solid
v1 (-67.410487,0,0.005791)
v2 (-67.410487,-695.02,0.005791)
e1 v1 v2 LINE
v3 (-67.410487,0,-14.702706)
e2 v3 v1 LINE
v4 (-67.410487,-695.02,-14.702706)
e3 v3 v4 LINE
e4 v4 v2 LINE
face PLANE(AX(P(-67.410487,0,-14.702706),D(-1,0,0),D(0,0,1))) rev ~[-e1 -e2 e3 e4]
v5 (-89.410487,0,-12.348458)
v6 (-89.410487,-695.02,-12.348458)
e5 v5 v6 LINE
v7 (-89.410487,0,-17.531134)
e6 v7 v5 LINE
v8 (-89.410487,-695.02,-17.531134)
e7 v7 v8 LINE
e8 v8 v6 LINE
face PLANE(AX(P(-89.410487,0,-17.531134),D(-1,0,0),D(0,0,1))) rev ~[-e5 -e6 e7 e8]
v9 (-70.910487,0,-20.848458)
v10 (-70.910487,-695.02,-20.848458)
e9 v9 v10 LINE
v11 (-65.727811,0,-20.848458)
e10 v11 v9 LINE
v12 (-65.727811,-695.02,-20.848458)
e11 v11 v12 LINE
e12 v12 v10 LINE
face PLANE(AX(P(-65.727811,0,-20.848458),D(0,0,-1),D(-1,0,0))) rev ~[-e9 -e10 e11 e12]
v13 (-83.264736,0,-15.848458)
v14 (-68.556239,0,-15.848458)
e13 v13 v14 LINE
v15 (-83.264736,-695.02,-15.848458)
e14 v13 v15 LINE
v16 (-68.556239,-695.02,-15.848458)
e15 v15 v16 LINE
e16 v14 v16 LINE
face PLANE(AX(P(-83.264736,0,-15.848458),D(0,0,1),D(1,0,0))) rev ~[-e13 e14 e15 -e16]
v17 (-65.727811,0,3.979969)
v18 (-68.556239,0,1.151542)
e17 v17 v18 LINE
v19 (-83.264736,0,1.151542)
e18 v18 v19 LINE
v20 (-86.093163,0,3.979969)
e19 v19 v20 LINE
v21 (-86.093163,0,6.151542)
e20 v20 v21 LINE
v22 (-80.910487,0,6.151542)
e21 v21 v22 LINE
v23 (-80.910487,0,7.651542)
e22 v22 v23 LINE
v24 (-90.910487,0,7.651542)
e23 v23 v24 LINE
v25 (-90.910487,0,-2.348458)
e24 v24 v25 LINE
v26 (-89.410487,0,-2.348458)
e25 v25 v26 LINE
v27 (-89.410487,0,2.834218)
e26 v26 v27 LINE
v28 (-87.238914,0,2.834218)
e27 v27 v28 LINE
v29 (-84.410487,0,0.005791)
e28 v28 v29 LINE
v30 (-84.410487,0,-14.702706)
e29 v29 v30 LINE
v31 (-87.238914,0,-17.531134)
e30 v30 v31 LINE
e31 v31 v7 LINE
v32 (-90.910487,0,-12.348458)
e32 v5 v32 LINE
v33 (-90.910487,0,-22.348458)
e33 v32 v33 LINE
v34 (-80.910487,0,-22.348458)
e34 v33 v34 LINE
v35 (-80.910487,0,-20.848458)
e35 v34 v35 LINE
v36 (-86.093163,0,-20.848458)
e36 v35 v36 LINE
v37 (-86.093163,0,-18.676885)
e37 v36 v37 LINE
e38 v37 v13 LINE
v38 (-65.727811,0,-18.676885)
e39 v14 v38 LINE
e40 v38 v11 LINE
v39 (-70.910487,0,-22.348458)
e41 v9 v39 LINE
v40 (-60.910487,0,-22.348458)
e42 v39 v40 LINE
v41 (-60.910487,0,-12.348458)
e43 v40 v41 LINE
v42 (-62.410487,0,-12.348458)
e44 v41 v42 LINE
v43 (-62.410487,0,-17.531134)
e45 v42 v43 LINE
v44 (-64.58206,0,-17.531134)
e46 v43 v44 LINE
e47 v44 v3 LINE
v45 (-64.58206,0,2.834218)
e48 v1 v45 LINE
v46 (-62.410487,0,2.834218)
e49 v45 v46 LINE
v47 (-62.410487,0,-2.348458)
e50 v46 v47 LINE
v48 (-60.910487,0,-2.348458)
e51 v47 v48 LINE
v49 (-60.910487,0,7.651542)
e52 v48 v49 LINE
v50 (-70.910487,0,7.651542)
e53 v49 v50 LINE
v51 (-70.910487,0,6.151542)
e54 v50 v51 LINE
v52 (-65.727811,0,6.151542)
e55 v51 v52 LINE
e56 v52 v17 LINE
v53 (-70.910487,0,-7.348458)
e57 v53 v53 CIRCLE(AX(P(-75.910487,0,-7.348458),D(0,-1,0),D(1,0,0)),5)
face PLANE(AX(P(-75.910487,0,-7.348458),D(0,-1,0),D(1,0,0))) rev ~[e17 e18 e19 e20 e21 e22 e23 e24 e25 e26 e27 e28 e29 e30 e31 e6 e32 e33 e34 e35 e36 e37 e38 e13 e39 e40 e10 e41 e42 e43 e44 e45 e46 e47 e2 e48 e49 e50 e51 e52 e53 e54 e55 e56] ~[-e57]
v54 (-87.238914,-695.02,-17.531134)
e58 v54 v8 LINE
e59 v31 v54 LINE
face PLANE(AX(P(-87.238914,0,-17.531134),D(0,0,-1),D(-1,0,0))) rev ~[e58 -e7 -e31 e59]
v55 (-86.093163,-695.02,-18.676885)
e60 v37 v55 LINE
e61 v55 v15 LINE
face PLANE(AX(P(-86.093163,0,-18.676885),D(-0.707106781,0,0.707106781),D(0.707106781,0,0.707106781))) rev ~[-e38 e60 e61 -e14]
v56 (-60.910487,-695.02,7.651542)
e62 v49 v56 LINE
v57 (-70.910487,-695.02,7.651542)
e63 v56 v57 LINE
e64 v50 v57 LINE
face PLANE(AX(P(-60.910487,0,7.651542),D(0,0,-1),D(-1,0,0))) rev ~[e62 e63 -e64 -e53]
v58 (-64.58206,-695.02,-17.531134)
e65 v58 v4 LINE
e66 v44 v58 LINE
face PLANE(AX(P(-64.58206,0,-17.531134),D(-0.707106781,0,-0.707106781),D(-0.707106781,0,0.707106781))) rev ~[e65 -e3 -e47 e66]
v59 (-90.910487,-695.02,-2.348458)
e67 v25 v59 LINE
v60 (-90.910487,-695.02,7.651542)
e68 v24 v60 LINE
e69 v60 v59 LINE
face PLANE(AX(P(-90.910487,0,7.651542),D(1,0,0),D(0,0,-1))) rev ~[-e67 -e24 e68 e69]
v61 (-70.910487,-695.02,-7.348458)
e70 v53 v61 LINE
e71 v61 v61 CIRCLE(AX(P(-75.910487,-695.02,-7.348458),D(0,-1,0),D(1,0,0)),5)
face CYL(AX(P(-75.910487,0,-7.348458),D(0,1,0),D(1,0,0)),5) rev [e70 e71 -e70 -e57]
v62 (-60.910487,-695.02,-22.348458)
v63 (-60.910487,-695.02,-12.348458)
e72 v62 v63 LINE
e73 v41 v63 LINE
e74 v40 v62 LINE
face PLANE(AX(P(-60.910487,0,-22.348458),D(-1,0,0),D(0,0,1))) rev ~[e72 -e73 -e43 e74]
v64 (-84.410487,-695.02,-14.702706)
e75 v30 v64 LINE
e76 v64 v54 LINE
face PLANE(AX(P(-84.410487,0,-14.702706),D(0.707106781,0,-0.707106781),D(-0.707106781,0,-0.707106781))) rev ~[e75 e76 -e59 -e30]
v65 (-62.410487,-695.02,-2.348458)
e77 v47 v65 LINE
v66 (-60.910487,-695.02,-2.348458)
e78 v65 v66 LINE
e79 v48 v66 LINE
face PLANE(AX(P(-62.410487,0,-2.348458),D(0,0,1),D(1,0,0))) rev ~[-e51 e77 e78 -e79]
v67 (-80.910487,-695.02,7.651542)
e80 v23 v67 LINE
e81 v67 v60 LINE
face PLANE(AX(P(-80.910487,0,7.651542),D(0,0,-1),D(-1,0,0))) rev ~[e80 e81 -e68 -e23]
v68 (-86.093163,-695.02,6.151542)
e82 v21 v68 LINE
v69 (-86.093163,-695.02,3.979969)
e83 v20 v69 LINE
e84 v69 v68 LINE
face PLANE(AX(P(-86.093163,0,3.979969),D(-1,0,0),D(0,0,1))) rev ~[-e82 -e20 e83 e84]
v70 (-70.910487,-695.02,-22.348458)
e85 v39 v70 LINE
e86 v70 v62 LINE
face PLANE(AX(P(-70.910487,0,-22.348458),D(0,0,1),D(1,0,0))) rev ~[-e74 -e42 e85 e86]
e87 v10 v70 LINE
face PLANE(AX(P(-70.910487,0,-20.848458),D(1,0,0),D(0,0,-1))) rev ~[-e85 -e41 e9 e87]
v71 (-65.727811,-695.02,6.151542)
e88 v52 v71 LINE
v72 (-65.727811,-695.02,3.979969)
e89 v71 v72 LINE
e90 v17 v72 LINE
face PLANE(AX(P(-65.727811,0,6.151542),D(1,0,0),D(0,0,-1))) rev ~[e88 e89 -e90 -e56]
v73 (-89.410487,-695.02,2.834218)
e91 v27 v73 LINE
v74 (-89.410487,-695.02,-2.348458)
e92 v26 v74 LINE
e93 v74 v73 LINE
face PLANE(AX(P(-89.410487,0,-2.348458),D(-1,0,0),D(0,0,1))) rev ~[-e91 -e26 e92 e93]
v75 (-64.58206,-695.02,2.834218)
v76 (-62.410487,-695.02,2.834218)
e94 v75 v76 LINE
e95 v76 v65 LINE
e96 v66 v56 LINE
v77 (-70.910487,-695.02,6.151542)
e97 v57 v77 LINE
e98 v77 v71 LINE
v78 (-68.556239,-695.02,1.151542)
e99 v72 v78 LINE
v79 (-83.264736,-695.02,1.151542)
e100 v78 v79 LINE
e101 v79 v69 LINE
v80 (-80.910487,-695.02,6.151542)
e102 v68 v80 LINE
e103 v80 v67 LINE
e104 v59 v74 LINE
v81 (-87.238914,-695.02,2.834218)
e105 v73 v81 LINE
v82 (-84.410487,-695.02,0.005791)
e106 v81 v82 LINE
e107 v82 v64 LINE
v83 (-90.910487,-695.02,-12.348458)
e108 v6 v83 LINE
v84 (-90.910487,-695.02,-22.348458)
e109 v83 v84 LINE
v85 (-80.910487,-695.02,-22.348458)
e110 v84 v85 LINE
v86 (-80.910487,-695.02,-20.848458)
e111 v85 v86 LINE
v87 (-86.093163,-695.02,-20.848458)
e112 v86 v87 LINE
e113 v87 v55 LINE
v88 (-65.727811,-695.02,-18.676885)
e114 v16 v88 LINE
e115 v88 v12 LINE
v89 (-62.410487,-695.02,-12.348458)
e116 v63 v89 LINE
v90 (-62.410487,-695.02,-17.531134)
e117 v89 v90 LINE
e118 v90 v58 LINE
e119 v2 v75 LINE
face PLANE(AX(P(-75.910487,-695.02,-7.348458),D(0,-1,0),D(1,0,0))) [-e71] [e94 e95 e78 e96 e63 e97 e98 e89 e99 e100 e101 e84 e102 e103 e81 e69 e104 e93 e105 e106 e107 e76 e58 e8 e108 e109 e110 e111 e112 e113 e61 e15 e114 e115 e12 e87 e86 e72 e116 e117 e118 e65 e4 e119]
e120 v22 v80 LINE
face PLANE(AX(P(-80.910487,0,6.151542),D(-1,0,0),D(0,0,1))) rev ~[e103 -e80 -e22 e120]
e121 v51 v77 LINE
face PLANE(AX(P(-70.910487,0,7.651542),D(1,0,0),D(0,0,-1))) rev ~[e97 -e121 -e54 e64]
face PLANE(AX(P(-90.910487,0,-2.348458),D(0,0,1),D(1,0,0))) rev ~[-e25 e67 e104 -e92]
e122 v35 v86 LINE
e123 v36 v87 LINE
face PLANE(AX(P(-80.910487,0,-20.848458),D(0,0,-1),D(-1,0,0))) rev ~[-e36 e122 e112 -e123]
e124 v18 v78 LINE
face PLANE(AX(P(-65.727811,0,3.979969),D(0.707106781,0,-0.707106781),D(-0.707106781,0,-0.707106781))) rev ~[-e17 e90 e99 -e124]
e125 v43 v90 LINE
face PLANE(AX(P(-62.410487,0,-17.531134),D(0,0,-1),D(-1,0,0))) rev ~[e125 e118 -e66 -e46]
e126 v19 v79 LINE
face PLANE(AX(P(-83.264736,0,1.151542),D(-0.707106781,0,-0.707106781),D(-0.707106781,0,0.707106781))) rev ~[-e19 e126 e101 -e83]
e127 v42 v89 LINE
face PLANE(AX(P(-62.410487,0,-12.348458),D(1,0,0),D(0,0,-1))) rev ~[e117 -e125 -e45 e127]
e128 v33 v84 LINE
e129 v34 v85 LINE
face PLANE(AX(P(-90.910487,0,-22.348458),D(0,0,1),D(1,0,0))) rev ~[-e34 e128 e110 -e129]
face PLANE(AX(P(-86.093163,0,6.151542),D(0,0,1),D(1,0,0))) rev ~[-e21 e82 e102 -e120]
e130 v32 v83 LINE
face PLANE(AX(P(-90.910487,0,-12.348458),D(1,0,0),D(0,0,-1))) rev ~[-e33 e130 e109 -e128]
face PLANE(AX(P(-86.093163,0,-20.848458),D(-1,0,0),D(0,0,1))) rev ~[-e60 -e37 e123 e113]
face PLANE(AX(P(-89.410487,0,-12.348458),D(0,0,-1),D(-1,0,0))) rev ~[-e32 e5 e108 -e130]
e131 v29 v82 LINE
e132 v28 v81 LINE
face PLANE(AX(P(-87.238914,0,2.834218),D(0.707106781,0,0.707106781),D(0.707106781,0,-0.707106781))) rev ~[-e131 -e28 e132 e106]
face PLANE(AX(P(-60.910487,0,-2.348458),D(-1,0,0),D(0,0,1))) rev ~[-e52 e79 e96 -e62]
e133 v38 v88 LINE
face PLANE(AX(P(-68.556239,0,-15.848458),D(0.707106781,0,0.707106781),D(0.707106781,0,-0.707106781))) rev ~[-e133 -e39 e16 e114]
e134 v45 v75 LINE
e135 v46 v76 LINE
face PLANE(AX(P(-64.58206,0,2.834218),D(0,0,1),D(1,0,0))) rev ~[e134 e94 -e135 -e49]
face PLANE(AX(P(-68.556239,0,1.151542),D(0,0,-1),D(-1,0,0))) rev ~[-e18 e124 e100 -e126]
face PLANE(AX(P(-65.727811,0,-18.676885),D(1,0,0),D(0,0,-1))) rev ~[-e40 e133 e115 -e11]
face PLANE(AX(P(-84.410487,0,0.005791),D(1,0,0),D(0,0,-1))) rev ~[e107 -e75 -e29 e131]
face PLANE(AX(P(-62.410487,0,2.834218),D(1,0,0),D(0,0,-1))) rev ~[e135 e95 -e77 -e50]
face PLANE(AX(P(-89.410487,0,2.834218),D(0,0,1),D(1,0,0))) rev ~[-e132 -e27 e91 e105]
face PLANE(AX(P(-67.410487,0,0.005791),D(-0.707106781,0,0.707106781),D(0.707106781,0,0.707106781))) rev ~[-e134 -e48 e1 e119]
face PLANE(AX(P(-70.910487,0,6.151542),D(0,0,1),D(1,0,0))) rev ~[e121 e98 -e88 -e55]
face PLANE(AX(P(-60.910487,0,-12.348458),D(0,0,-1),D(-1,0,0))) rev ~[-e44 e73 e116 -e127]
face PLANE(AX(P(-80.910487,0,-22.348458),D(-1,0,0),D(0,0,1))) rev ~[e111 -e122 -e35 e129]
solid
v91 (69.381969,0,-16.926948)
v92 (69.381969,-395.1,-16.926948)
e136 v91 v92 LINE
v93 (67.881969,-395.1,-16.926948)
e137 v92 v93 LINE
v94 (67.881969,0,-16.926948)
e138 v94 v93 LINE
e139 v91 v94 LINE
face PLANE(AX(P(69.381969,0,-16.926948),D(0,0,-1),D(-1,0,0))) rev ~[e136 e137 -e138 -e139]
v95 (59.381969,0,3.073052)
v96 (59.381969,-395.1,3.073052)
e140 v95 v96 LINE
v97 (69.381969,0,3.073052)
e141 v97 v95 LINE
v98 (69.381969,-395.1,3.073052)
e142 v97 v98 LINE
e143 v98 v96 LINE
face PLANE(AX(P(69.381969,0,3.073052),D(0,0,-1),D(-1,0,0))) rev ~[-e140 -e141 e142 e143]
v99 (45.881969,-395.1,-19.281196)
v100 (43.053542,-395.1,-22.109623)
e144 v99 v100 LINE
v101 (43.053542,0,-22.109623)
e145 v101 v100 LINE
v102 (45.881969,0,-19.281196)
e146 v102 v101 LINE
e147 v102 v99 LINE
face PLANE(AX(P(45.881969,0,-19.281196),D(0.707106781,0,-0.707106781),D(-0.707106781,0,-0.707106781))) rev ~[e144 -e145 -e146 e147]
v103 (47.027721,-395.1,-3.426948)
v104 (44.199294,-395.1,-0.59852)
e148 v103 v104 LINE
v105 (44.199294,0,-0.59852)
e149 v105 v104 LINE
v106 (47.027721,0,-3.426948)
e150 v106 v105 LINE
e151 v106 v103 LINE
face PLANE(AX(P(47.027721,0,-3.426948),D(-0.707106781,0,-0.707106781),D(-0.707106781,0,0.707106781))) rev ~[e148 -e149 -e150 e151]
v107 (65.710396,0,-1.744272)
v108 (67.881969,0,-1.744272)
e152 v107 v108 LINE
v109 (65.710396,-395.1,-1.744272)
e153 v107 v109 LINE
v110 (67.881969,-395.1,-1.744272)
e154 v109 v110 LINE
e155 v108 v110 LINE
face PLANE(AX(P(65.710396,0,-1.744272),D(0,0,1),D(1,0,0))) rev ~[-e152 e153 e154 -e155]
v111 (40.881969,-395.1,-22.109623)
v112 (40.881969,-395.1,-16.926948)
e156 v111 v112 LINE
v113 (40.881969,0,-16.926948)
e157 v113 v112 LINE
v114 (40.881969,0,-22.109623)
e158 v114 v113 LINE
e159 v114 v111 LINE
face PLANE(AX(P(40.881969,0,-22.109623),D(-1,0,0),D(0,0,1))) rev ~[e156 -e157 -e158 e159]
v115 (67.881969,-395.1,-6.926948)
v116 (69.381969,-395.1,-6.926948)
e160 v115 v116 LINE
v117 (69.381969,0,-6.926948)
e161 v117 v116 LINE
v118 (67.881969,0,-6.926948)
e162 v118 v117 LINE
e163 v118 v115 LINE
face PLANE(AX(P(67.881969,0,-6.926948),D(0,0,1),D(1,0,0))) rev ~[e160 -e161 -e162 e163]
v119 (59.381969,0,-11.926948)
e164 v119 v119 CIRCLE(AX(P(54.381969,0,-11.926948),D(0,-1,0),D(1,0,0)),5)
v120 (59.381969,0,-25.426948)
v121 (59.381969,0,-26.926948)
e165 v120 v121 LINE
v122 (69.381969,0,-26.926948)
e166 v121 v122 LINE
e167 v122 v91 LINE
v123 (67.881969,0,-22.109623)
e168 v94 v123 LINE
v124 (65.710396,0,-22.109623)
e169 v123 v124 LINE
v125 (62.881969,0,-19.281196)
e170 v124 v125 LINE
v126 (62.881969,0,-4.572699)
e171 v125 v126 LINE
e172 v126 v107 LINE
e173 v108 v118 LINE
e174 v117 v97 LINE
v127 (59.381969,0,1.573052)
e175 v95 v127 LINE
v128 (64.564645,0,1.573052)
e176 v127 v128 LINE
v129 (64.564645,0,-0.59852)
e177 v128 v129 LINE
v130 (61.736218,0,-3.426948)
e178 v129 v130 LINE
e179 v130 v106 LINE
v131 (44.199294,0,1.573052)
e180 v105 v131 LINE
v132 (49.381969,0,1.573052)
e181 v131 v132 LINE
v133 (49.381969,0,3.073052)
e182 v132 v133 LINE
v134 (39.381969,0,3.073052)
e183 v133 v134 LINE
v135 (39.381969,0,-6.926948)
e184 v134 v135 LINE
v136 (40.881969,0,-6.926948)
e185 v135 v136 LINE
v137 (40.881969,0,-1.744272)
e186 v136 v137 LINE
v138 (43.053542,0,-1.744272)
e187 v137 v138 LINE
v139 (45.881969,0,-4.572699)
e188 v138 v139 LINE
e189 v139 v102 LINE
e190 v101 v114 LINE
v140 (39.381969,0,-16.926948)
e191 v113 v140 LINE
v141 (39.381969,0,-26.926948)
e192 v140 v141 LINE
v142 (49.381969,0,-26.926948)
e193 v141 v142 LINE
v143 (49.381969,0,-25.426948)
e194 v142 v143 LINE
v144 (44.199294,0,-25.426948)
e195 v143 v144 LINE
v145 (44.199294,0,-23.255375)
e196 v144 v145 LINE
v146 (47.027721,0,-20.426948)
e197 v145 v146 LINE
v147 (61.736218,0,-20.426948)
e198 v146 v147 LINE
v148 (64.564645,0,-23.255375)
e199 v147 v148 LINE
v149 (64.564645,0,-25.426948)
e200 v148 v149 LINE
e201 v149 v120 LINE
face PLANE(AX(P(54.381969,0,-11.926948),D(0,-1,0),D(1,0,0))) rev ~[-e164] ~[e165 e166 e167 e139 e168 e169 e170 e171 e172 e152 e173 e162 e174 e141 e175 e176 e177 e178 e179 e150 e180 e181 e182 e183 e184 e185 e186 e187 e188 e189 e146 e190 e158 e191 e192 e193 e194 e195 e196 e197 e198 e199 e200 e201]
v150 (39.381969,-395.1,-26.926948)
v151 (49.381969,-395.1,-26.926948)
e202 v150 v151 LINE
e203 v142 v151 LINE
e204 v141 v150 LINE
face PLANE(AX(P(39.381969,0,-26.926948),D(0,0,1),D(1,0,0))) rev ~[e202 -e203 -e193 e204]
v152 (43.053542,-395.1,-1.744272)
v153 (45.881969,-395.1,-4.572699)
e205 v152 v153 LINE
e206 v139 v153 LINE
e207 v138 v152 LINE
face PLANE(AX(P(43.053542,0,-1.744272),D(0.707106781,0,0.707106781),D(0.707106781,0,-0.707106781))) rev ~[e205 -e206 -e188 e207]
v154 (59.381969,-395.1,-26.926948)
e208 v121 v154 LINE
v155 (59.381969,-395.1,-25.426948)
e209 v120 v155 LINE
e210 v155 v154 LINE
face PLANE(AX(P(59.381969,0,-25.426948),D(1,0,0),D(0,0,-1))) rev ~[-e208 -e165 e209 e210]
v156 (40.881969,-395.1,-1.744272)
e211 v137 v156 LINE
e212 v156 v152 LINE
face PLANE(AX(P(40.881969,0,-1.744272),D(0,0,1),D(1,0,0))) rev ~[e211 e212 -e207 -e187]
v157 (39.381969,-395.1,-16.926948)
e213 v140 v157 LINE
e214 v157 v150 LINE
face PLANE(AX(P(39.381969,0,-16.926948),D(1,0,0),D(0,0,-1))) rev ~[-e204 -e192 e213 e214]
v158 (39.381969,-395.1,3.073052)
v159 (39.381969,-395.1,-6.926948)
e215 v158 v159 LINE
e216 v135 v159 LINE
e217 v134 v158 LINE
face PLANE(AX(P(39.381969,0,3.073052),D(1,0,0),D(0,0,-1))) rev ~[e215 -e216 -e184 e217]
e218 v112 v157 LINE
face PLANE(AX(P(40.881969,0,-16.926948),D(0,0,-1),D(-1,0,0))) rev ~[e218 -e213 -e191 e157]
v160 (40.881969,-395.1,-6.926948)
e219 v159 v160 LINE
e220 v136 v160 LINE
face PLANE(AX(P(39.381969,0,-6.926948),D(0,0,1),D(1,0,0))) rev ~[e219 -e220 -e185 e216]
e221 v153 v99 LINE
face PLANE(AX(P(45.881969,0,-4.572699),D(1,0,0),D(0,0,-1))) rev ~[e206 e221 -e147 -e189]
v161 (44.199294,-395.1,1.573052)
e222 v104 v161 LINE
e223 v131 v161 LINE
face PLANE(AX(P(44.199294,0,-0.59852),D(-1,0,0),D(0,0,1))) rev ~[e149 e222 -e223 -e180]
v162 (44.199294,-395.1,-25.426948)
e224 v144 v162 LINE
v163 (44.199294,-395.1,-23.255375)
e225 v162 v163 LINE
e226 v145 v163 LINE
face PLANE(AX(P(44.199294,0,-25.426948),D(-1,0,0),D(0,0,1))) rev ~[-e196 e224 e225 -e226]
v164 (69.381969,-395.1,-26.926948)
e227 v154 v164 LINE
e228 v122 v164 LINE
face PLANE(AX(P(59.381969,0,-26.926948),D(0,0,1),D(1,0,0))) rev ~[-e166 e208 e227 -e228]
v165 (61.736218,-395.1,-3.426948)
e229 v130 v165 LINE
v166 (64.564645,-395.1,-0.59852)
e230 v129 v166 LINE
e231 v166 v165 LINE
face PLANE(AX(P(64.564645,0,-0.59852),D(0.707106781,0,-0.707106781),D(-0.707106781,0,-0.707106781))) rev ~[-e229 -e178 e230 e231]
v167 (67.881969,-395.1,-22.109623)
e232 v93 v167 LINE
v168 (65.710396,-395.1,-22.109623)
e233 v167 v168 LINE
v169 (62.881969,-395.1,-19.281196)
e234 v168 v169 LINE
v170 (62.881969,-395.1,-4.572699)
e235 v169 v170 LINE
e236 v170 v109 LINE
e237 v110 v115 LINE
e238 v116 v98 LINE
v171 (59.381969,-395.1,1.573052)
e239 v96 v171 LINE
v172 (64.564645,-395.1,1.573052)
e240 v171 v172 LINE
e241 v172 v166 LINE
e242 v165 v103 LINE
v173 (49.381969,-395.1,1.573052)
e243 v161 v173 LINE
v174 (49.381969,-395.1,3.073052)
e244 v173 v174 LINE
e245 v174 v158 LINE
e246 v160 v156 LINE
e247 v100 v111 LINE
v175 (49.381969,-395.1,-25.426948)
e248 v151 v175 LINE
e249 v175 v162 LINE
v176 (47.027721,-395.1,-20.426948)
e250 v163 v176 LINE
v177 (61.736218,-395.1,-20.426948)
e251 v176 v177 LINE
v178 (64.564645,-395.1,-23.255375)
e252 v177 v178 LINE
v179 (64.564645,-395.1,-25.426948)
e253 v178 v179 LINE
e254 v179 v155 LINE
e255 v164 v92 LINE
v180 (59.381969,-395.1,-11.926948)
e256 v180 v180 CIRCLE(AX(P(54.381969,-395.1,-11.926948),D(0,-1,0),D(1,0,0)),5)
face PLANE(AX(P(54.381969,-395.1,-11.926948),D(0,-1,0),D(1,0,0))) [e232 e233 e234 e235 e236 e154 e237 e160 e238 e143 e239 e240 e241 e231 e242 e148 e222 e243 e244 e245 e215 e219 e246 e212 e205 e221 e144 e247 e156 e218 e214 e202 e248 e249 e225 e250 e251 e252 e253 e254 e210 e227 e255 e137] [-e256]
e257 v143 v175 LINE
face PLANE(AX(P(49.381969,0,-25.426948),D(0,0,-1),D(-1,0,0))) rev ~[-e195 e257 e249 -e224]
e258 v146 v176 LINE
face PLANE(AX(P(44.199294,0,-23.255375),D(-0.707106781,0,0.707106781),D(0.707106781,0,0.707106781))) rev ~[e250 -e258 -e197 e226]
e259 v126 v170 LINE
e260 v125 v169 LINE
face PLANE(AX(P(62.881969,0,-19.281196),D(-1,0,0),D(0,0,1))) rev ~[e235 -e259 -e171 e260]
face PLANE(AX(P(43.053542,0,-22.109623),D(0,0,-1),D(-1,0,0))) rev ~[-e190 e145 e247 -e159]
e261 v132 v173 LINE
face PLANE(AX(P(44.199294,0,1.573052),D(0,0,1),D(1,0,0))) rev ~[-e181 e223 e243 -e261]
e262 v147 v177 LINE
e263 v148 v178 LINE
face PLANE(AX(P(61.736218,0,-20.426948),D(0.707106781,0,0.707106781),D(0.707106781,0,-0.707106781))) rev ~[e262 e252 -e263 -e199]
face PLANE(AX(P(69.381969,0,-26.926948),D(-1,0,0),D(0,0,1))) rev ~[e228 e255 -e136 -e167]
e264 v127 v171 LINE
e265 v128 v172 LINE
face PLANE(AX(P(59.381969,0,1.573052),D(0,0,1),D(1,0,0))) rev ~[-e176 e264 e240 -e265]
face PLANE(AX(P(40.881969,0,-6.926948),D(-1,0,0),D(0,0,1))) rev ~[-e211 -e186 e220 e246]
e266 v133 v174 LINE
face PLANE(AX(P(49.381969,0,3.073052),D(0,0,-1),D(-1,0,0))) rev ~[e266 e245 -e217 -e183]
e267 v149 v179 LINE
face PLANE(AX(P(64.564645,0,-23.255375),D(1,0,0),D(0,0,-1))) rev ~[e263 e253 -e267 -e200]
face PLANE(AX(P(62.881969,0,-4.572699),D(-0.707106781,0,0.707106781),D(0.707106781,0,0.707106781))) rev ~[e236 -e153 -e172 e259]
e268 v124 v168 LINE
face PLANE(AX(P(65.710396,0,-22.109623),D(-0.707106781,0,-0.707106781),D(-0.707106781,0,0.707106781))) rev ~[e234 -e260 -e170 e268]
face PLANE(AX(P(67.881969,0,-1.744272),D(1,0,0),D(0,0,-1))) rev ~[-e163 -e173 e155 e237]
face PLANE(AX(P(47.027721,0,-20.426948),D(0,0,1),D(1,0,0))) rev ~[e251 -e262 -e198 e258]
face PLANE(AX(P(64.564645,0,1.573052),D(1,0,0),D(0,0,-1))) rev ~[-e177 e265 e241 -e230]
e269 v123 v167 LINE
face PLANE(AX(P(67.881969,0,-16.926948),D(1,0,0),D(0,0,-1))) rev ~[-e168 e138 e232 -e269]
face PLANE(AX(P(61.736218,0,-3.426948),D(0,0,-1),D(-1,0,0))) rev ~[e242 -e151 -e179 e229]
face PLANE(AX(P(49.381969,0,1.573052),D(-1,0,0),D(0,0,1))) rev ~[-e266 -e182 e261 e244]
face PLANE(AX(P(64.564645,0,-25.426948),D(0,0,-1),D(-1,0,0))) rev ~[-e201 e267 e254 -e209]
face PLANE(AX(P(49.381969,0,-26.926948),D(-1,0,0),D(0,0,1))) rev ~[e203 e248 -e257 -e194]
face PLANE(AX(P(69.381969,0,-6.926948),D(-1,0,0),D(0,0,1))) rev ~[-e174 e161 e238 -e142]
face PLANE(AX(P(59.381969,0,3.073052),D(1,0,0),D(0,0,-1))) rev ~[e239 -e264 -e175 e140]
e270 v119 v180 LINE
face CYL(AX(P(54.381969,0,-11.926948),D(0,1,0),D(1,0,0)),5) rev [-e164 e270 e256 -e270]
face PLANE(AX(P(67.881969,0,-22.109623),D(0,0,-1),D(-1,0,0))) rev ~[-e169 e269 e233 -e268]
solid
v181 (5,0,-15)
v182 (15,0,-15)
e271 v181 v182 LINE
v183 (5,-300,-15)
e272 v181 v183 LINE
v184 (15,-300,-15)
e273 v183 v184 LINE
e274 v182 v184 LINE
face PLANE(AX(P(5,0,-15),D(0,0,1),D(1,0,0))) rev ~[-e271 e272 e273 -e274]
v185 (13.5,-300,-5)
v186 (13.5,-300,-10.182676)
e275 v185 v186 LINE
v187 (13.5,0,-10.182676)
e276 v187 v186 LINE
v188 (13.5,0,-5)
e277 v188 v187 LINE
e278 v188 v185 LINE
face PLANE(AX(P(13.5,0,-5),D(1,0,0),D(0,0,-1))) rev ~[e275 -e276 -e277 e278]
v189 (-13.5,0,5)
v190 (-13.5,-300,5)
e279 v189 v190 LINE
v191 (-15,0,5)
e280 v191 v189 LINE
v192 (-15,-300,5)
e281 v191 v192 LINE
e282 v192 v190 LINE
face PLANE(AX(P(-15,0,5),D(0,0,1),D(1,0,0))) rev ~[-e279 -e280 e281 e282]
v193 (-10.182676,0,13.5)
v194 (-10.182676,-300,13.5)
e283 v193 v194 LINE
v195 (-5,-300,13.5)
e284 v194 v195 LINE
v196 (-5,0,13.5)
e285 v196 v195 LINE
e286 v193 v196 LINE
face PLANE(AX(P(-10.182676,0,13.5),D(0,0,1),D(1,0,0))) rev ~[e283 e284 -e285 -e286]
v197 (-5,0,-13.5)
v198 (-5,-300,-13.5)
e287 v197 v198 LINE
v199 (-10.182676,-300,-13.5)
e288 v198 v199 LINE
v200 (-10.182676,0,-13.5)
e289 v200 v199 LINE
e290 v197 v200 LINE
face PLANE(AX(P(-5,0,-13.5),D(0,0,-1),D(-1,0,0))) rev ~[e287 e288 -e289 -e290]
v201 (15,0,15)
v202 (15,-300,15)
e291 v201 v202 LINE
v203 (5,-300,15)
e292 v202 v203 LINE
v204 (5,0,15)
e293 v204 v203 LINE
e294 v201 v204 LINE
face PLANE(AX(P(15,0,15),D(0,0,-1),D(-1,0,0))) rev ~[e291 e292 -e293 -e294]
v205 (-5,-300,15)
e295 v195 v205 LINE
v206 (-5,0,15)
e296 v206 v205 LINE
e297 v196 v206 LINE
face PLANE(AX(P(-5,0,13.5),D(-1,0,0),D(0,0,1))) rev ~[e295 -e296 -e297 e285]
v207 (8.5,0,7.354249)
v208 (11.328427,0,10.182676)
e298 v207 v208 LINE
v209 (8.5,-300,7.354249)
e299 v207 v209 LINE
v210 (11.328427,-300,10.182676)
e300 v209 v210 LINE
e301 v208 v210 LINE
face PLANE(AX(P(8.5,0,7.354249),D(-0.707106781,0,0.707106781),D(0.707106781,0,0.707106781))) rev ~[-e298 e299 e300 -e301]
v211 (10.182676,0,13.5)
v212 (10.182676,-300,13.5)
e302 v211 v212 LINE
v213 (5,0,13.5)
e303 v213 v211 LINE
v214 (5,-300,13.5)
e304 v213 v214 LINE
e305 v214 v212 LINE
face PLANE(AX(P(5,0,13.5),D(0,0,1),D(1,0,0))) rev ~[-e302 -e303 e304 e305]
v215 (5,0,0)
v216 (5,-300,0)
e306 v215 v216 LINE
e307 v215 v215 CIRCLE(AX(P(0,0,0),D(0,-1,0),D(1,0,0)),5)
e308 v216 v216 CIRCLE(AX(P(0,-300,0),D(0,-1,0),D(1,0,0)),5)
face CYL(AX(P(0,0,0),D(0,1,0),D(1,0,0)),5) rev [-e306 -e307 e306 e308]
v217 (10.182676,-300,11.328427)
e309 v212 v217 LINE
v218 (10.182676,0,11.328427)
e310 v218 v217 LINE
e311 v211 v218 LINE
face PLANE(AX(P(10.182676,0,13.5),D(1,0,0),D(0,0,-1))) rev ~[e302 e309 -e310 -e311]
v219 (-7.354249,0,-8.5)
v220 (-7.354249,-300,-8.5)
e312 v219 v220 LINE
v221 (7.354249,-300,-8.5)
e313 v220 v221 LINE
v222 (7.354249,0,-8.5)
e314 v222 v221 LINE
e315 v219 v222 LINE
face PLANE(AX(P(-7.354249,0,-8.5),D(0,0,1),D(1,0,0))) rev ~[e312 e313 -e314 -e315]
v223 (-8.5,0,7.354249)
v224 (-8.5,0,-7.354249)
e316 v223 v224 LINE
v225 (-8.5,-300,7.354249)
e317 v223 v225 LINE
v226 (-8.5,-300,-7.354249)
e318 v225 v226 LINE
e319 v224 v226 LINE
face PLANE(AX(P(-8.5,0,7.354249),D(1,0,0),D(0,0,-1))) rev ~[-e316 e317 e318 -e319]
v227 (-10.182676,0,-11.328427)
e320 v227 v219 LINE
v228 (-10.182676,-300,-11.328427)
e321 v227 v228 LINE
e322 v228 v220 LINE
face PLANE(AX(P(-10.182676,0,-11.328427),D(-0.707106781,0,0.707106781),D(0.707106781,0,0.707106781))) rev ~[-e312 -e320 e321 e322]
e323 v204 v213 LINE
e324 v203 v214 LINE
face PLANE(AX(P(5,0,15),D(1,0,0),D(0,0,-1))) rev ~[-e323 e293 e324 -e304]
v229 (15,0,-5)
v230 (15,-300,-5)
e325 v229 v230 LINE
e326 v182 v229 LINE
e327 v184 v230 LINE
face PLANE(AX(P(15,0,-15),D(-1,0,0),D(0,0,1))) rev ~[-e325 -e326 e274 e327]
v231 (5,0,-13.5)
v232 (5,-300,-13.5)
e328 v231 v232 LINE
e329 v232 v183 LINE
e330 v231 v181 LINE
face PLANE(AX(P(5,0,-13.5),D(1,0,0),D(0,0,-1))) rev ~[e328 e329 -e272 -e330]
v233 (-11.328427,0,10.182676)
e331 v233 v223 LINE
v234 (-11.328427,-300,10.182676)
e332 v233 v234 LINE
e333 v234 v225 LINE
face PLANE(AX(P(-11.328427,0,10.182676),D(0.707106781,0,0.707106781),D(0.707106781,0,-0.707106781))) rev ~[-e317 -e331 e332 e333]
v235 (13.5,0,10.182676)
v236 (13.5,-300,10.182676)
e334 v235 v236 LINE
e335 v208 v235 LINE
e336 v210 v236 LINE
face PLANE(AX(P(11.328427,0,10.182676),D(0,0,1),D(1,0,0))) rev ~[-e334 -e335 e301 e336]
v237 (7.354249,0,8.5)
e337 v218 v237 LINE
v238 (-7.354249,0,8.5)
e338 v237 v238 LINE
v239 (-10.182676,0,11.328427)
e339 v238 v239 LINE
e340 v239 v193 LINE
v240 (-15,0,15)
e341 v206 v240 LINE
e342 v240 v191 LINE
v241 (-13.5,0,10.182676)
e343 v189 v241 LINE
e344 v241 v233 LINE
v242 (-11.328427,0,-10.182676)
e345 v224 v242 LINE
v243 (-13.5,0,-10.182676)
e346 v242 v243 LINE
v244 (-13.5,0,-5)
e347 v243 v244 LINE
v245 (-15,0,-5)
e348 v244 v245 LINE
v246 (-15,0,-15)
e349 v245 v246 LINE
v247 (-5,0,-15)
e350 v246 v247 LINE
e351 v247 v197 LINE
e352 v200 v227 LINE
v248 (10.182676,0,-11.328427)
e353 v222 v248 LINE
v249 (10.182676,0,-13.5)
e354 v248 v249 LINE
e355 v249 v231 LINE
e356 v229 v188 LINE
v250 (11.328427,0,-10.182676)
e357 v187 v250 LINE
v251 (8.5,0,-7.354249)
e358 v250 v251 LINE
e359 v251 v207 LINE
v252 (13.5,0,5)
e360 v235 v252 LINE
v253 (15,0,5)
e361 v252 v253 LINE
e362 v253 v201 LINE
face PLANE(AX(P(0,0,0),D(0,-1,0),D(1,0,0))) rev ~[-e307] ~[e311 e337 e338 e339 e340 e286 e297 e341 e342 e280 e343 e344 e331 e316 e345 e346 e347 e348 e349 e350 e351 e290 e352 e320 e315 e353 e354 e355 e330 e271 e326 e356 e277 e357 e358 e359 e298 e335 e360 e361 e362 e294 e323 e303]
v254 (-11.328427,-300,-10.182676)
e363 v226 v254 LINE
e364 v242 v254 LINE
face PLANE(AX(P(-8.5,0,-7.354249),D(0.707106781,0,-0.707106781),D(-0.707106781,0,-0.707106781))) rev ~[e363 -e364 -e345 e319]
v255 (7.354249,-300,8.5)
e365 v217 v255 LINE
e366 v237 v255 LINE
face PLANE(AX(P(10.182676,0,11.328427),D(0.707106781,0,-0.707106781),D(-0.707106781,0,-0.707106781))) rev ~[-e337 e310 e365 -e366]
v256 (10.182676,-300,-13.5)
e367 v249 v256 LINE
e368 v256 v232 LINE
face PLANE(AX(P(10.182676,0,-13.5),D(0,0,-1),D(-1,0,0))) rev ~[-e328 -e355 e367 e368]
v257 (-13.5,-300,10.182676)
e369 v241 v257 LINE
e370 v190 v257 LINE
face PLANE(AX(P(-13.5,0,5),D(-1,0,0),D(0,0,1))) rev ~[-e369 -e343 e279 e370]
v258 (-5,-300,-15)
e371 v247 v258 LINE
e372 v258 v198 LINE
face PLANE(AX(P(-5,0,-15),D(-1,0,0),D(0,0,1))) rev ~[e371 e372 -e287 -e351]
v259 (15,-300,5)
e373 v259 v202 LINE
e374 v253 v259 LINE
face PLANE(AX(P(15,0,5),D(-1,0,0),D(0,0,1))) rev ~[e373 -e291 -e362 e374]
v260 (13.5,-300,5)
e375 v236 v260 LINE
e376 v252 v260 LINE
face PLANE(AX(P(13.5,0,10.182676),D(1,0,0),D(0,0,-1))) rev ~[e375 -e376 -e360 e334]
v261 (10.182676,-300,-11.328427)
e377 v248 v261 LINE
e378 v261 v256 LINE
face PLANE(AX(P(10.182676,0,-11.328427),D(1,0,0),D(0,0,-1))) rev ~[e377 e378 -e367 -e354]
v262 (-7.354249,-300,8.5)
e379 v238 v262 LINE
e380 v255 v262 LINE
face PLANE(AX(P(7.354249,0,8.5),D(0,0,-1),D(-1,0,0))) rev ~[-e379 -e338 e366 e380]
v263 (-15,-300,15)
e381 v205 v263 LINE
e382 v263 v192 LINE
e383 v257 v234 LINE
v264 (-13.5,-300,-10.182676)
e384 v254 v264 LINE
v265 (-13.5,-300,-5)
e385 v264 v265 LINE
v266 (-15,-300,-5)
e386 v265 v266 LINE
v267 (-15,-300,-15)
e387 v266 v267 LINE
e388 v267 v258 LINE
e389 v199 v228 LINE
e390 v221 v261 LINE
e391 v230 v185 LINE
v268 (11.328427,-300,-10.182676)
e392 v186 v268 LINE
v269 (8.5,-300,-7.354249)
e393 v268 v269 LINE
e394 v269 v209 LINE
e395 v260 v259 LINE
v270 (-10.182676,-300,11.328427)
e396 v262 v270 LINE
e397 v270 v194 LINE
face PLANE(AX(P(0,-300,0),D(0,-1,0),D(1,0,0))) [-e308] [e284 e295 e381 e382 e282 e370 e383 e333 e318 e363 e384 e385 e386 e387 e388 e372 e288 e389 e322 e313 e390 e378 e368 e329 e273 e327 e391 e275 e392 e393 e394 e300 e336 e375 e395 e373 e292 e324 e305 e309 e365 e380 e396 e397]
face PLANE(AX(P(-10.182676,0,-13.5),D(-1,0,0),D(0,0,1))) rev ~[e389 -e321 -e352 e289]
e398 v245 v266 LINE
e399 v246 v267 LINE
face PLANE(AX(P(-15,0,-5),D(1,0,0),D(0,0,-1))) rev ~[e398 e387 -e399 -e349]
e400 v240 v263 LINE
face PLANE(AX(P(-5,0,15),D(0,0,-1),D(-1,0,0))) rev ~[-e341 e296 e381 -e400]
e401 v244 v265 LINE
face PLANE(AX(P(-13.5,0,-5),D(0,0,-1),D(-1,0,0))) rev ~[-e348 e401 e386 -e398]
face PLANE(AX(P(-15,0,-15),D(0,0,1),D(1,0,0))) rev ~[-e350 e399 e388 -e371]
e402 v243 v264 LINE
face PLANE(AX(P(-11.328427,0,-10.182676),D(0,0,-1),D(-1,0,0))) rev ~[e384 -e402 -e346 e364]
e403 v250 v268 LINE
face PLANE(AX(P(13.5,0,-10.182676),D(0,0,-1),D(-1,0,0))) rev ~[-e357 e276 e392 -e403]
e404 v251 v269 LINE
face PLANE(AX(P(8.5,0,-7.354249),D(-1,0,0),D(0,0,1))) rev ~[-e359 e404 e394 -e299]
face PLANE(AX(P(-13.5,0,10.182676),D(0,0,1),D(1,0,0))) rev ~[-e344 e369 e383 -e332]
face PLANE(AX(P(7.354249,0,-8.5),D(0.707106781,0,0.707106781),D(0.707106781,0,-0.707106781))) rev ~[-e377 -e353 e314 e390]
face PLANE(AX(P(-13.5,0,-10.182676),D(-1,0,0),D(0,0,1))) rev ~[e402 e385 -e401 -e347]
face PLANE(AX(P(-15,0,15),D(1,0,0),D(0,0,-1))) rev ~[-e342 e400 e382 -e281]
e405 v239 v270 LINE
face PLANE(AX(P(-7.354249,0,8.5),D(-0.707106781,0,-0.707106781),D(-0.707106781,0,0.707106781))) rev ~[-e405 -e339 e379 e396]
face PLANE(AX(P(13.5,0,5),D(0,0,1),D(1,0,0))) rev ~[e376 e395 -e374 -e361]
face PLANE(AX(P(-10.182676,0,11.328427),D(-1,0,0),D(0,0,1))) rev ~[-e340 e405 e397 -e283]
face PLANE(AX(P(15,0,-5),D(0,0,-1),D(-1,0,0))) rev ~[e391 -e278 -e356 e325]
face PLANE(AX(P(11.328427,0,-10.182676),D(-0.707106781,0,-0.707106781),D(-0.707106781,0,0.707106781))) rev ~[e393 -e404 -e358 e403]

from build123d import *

# Parameters (mm, degrees)
F0_R     = 5
F1_DEPTH = 300
F2_R     = 5
F3_DEPTH = 695.02
F4_R     = 5
F5_DEPTH = 395.1


with BuildPart() as f1:
    # F0 (on Front) → F1 (new body)
    with BuildSketch(Plane.XZ):
        Polygon((7.3542486889, 8.5), (0, 8.5), (-7.3542486889, 8.5), (-10.1826758137, 11.3284271247), (-10.1826758137, 13.5), (-5, 13.5), (-5, 15), (-15, 15), (-15, 5), (-13.5, 5), (-13.5, 10.1826758137), (-11.3284271247, 10.1826758137), (-8.5, 7.3542486889), (-8.5, 0), (-8.5, -7.3542486889), (-11.3284271247, -10.1826758137), (-13.5, -10.1826758137), (-13.5, -5), (-15, -5), (-15, -15), (-5, -15), (-5, -13.5), (-10.1826758137, -13.5), (-10.1826758137, -11.3284271247), (-7.3542486889, -8.5), (0, -8.5), (7.3542486889, -8.5), (10.1826758137, -11.3284271247), (10.1826758137, -13.5), (5, -13.5), (5, -15), (15, -15), (15, -5), (13.5, -5), (13.5, -10.1826758137), (11.3284271247, -10.1826758137), (8.5, -7.3542486889), (8.5, 0), (8.5, 7.3542486889), (11.3284271247, 10.1826758137), (13.5, 10.1826758137), (13.5, 5), (15, 5), (15, 15), (5, 15), (5, 13.5), (10.1826758137, 13.5), (10.1826758137, 11.3284271247), align=None)
        Circle(F0_R, mode=Mode.SUBTRACT)
    extrude(amount=F1_DEPTH)


with BuildPart() as f3:
    # F2 (on Front) → F3 (new body)
    with BuildSketch(Plane.XZ):
        Polygon((-68.5562385395, 1.151542255), (-75.9104872284, 1.151542255), (-83.2647359174, 1.151542255), (-86.0931630421, 3.9799693797), (-86.0931630421, 6.151542255), (-80.9104872284, 6.151542255), (-80.9104872284, 7.651542255), (-90.9104872284, 7.651542255), (-90.9104872284, -2.348457745), (-89.4104872284, -2.348457745), (-89.4104872284, 2.8342180686), (-87.2389143532, 2.8342180686), (-84.4104872284, 0.0057909439), (-84.4104872284, -7.348457745), (-84.4104872284, -14.702706434), (-87.2389143532, -17.5311335587), (-89.4104872284, -17.5311335587), (-89.4104872284, -12.348457745), (-90.9104872284, -12.348457745), (-90.9104872284, -22.348457745), (-80.9104872284, -22.348457745), (-80.9104872284, -20.848457745), (-86.0931630421, -20.848457745), (-86.0931630421, -18.6768848698), (-83.2647359174, -15.848457745), (-75.9104872284, -15.848457745), (-68.5562385395, -15.848457745), (-65.7278114147, -18.6768848698), (-65.7278114147, -20.848457745), (-70.9104872284, -20.848457745), (-70.9104872284, -22.348457745), (-60.9104872284, -22.348457745), (-60.9104872284, -12.348457745), (-62.4104872284, -12.348457745), (-62.4104872284, -17.5311335587), (-64.5820601037, -17.5311335587), (-67.4104872284, -14.702706434), (-67.4104872284, -7.348457745), (-67.4104872284, 0.0057909439), (-64.5820601037, 2.8342180686), (-62.4104872284, 2.8342180686), (-62.4104872284, -2.348457745), (-60.9104872284, -2.348457745), (-60.9104872284, 7.651542255), (-70.9104872284, 7.651542255), (-70.9104872284, 6.151542255), (-65.7278114147, 6.151542255), (-65.7278114147, 3.9799693797), align=None)
        with Locations((-75.9104872284, -7.348457745)):
            Circle(F2_R, mode=Mode.SUBTRACT)
    extrude(amount=F3_DEPTH)


with BuildPart() as f5:
    # F4 (on Front) → F5 (new body)
    with BuildSketch(Plane.XZ):
        Polygon((61.7362180576, -3.4269475553), (54.3819693687, -3.4269475553), (47.0277206797, -3.4269475553), (44.199293555, -0.5985204305), (44.199293555, 1.5730524447), (49.3819693687, 1.5730524447), (49.3819693687, 3.0730524447), (39.3819693687, 3.0730524447), (39.3819693687, -6.9269475553), (40.8819693687, -6.9269475553), (40.8819693687, -1.7442717416), (43.0535422439, -1.7442717416), (45.8819693687, -4.5726988663), (45.8819693687, -11.9269475553), (45.8819693687, -19.2811962442), (43.0535422439, -22.1096233689), (40.8819693687, -22.1096233689), (40.8819693687, -16.9269475553), (39.3819693687, -16.9269475553), (39.3819693687, -26.9269475553), (49.3819693687, -26.9269475553), (49.3819693687, -25.4269475553), (44.199293555, -25.4269475553), (44.199293555, -23.25537468), (47.0277206797, -20.4269475553), (54.3819693687, -20.4269475553), (61.7362180576, -20.4269475553), (64.5646451824, -23.25537468), (64.5646451824, -25.4269475553), (59.3819693687, -25.4269475553), (59.3819693687, -26.9269475553), (69.3819693687, -26.9269475553), (69.3819693687, -16.9269475553), (67.8819693687, -16.9269475553), (67.8819693687, -22.1096233689), (65.7103964934, -22.1096233689), (62.8819693687, -19.2811962442), (62.8819693687, -11.9269475553), (62.8819693687, -4.5726988663), (65.7103964934, -1.7442717416), (67.8819693687, -1.7442717416), (67.8819693687, -6.9269475553), (69.3819693687, -6.9269475553), (69.3819693687, 3.0730524447), (59.3819693687, 3.0730524447), (59.3819693687, 1.5730524447), (64.5646451824, 1.5730524447), (64.5646451824, -0.5985204305), align=None)
        with Locations((54.3819693687, -11.9269475553)):
            Circle(F4_R, mode=Mode.SUBTRACT)
    extrude(amount=F5_DEPTH)


solid = Compound([f1.part, f3.part, f5.part])
